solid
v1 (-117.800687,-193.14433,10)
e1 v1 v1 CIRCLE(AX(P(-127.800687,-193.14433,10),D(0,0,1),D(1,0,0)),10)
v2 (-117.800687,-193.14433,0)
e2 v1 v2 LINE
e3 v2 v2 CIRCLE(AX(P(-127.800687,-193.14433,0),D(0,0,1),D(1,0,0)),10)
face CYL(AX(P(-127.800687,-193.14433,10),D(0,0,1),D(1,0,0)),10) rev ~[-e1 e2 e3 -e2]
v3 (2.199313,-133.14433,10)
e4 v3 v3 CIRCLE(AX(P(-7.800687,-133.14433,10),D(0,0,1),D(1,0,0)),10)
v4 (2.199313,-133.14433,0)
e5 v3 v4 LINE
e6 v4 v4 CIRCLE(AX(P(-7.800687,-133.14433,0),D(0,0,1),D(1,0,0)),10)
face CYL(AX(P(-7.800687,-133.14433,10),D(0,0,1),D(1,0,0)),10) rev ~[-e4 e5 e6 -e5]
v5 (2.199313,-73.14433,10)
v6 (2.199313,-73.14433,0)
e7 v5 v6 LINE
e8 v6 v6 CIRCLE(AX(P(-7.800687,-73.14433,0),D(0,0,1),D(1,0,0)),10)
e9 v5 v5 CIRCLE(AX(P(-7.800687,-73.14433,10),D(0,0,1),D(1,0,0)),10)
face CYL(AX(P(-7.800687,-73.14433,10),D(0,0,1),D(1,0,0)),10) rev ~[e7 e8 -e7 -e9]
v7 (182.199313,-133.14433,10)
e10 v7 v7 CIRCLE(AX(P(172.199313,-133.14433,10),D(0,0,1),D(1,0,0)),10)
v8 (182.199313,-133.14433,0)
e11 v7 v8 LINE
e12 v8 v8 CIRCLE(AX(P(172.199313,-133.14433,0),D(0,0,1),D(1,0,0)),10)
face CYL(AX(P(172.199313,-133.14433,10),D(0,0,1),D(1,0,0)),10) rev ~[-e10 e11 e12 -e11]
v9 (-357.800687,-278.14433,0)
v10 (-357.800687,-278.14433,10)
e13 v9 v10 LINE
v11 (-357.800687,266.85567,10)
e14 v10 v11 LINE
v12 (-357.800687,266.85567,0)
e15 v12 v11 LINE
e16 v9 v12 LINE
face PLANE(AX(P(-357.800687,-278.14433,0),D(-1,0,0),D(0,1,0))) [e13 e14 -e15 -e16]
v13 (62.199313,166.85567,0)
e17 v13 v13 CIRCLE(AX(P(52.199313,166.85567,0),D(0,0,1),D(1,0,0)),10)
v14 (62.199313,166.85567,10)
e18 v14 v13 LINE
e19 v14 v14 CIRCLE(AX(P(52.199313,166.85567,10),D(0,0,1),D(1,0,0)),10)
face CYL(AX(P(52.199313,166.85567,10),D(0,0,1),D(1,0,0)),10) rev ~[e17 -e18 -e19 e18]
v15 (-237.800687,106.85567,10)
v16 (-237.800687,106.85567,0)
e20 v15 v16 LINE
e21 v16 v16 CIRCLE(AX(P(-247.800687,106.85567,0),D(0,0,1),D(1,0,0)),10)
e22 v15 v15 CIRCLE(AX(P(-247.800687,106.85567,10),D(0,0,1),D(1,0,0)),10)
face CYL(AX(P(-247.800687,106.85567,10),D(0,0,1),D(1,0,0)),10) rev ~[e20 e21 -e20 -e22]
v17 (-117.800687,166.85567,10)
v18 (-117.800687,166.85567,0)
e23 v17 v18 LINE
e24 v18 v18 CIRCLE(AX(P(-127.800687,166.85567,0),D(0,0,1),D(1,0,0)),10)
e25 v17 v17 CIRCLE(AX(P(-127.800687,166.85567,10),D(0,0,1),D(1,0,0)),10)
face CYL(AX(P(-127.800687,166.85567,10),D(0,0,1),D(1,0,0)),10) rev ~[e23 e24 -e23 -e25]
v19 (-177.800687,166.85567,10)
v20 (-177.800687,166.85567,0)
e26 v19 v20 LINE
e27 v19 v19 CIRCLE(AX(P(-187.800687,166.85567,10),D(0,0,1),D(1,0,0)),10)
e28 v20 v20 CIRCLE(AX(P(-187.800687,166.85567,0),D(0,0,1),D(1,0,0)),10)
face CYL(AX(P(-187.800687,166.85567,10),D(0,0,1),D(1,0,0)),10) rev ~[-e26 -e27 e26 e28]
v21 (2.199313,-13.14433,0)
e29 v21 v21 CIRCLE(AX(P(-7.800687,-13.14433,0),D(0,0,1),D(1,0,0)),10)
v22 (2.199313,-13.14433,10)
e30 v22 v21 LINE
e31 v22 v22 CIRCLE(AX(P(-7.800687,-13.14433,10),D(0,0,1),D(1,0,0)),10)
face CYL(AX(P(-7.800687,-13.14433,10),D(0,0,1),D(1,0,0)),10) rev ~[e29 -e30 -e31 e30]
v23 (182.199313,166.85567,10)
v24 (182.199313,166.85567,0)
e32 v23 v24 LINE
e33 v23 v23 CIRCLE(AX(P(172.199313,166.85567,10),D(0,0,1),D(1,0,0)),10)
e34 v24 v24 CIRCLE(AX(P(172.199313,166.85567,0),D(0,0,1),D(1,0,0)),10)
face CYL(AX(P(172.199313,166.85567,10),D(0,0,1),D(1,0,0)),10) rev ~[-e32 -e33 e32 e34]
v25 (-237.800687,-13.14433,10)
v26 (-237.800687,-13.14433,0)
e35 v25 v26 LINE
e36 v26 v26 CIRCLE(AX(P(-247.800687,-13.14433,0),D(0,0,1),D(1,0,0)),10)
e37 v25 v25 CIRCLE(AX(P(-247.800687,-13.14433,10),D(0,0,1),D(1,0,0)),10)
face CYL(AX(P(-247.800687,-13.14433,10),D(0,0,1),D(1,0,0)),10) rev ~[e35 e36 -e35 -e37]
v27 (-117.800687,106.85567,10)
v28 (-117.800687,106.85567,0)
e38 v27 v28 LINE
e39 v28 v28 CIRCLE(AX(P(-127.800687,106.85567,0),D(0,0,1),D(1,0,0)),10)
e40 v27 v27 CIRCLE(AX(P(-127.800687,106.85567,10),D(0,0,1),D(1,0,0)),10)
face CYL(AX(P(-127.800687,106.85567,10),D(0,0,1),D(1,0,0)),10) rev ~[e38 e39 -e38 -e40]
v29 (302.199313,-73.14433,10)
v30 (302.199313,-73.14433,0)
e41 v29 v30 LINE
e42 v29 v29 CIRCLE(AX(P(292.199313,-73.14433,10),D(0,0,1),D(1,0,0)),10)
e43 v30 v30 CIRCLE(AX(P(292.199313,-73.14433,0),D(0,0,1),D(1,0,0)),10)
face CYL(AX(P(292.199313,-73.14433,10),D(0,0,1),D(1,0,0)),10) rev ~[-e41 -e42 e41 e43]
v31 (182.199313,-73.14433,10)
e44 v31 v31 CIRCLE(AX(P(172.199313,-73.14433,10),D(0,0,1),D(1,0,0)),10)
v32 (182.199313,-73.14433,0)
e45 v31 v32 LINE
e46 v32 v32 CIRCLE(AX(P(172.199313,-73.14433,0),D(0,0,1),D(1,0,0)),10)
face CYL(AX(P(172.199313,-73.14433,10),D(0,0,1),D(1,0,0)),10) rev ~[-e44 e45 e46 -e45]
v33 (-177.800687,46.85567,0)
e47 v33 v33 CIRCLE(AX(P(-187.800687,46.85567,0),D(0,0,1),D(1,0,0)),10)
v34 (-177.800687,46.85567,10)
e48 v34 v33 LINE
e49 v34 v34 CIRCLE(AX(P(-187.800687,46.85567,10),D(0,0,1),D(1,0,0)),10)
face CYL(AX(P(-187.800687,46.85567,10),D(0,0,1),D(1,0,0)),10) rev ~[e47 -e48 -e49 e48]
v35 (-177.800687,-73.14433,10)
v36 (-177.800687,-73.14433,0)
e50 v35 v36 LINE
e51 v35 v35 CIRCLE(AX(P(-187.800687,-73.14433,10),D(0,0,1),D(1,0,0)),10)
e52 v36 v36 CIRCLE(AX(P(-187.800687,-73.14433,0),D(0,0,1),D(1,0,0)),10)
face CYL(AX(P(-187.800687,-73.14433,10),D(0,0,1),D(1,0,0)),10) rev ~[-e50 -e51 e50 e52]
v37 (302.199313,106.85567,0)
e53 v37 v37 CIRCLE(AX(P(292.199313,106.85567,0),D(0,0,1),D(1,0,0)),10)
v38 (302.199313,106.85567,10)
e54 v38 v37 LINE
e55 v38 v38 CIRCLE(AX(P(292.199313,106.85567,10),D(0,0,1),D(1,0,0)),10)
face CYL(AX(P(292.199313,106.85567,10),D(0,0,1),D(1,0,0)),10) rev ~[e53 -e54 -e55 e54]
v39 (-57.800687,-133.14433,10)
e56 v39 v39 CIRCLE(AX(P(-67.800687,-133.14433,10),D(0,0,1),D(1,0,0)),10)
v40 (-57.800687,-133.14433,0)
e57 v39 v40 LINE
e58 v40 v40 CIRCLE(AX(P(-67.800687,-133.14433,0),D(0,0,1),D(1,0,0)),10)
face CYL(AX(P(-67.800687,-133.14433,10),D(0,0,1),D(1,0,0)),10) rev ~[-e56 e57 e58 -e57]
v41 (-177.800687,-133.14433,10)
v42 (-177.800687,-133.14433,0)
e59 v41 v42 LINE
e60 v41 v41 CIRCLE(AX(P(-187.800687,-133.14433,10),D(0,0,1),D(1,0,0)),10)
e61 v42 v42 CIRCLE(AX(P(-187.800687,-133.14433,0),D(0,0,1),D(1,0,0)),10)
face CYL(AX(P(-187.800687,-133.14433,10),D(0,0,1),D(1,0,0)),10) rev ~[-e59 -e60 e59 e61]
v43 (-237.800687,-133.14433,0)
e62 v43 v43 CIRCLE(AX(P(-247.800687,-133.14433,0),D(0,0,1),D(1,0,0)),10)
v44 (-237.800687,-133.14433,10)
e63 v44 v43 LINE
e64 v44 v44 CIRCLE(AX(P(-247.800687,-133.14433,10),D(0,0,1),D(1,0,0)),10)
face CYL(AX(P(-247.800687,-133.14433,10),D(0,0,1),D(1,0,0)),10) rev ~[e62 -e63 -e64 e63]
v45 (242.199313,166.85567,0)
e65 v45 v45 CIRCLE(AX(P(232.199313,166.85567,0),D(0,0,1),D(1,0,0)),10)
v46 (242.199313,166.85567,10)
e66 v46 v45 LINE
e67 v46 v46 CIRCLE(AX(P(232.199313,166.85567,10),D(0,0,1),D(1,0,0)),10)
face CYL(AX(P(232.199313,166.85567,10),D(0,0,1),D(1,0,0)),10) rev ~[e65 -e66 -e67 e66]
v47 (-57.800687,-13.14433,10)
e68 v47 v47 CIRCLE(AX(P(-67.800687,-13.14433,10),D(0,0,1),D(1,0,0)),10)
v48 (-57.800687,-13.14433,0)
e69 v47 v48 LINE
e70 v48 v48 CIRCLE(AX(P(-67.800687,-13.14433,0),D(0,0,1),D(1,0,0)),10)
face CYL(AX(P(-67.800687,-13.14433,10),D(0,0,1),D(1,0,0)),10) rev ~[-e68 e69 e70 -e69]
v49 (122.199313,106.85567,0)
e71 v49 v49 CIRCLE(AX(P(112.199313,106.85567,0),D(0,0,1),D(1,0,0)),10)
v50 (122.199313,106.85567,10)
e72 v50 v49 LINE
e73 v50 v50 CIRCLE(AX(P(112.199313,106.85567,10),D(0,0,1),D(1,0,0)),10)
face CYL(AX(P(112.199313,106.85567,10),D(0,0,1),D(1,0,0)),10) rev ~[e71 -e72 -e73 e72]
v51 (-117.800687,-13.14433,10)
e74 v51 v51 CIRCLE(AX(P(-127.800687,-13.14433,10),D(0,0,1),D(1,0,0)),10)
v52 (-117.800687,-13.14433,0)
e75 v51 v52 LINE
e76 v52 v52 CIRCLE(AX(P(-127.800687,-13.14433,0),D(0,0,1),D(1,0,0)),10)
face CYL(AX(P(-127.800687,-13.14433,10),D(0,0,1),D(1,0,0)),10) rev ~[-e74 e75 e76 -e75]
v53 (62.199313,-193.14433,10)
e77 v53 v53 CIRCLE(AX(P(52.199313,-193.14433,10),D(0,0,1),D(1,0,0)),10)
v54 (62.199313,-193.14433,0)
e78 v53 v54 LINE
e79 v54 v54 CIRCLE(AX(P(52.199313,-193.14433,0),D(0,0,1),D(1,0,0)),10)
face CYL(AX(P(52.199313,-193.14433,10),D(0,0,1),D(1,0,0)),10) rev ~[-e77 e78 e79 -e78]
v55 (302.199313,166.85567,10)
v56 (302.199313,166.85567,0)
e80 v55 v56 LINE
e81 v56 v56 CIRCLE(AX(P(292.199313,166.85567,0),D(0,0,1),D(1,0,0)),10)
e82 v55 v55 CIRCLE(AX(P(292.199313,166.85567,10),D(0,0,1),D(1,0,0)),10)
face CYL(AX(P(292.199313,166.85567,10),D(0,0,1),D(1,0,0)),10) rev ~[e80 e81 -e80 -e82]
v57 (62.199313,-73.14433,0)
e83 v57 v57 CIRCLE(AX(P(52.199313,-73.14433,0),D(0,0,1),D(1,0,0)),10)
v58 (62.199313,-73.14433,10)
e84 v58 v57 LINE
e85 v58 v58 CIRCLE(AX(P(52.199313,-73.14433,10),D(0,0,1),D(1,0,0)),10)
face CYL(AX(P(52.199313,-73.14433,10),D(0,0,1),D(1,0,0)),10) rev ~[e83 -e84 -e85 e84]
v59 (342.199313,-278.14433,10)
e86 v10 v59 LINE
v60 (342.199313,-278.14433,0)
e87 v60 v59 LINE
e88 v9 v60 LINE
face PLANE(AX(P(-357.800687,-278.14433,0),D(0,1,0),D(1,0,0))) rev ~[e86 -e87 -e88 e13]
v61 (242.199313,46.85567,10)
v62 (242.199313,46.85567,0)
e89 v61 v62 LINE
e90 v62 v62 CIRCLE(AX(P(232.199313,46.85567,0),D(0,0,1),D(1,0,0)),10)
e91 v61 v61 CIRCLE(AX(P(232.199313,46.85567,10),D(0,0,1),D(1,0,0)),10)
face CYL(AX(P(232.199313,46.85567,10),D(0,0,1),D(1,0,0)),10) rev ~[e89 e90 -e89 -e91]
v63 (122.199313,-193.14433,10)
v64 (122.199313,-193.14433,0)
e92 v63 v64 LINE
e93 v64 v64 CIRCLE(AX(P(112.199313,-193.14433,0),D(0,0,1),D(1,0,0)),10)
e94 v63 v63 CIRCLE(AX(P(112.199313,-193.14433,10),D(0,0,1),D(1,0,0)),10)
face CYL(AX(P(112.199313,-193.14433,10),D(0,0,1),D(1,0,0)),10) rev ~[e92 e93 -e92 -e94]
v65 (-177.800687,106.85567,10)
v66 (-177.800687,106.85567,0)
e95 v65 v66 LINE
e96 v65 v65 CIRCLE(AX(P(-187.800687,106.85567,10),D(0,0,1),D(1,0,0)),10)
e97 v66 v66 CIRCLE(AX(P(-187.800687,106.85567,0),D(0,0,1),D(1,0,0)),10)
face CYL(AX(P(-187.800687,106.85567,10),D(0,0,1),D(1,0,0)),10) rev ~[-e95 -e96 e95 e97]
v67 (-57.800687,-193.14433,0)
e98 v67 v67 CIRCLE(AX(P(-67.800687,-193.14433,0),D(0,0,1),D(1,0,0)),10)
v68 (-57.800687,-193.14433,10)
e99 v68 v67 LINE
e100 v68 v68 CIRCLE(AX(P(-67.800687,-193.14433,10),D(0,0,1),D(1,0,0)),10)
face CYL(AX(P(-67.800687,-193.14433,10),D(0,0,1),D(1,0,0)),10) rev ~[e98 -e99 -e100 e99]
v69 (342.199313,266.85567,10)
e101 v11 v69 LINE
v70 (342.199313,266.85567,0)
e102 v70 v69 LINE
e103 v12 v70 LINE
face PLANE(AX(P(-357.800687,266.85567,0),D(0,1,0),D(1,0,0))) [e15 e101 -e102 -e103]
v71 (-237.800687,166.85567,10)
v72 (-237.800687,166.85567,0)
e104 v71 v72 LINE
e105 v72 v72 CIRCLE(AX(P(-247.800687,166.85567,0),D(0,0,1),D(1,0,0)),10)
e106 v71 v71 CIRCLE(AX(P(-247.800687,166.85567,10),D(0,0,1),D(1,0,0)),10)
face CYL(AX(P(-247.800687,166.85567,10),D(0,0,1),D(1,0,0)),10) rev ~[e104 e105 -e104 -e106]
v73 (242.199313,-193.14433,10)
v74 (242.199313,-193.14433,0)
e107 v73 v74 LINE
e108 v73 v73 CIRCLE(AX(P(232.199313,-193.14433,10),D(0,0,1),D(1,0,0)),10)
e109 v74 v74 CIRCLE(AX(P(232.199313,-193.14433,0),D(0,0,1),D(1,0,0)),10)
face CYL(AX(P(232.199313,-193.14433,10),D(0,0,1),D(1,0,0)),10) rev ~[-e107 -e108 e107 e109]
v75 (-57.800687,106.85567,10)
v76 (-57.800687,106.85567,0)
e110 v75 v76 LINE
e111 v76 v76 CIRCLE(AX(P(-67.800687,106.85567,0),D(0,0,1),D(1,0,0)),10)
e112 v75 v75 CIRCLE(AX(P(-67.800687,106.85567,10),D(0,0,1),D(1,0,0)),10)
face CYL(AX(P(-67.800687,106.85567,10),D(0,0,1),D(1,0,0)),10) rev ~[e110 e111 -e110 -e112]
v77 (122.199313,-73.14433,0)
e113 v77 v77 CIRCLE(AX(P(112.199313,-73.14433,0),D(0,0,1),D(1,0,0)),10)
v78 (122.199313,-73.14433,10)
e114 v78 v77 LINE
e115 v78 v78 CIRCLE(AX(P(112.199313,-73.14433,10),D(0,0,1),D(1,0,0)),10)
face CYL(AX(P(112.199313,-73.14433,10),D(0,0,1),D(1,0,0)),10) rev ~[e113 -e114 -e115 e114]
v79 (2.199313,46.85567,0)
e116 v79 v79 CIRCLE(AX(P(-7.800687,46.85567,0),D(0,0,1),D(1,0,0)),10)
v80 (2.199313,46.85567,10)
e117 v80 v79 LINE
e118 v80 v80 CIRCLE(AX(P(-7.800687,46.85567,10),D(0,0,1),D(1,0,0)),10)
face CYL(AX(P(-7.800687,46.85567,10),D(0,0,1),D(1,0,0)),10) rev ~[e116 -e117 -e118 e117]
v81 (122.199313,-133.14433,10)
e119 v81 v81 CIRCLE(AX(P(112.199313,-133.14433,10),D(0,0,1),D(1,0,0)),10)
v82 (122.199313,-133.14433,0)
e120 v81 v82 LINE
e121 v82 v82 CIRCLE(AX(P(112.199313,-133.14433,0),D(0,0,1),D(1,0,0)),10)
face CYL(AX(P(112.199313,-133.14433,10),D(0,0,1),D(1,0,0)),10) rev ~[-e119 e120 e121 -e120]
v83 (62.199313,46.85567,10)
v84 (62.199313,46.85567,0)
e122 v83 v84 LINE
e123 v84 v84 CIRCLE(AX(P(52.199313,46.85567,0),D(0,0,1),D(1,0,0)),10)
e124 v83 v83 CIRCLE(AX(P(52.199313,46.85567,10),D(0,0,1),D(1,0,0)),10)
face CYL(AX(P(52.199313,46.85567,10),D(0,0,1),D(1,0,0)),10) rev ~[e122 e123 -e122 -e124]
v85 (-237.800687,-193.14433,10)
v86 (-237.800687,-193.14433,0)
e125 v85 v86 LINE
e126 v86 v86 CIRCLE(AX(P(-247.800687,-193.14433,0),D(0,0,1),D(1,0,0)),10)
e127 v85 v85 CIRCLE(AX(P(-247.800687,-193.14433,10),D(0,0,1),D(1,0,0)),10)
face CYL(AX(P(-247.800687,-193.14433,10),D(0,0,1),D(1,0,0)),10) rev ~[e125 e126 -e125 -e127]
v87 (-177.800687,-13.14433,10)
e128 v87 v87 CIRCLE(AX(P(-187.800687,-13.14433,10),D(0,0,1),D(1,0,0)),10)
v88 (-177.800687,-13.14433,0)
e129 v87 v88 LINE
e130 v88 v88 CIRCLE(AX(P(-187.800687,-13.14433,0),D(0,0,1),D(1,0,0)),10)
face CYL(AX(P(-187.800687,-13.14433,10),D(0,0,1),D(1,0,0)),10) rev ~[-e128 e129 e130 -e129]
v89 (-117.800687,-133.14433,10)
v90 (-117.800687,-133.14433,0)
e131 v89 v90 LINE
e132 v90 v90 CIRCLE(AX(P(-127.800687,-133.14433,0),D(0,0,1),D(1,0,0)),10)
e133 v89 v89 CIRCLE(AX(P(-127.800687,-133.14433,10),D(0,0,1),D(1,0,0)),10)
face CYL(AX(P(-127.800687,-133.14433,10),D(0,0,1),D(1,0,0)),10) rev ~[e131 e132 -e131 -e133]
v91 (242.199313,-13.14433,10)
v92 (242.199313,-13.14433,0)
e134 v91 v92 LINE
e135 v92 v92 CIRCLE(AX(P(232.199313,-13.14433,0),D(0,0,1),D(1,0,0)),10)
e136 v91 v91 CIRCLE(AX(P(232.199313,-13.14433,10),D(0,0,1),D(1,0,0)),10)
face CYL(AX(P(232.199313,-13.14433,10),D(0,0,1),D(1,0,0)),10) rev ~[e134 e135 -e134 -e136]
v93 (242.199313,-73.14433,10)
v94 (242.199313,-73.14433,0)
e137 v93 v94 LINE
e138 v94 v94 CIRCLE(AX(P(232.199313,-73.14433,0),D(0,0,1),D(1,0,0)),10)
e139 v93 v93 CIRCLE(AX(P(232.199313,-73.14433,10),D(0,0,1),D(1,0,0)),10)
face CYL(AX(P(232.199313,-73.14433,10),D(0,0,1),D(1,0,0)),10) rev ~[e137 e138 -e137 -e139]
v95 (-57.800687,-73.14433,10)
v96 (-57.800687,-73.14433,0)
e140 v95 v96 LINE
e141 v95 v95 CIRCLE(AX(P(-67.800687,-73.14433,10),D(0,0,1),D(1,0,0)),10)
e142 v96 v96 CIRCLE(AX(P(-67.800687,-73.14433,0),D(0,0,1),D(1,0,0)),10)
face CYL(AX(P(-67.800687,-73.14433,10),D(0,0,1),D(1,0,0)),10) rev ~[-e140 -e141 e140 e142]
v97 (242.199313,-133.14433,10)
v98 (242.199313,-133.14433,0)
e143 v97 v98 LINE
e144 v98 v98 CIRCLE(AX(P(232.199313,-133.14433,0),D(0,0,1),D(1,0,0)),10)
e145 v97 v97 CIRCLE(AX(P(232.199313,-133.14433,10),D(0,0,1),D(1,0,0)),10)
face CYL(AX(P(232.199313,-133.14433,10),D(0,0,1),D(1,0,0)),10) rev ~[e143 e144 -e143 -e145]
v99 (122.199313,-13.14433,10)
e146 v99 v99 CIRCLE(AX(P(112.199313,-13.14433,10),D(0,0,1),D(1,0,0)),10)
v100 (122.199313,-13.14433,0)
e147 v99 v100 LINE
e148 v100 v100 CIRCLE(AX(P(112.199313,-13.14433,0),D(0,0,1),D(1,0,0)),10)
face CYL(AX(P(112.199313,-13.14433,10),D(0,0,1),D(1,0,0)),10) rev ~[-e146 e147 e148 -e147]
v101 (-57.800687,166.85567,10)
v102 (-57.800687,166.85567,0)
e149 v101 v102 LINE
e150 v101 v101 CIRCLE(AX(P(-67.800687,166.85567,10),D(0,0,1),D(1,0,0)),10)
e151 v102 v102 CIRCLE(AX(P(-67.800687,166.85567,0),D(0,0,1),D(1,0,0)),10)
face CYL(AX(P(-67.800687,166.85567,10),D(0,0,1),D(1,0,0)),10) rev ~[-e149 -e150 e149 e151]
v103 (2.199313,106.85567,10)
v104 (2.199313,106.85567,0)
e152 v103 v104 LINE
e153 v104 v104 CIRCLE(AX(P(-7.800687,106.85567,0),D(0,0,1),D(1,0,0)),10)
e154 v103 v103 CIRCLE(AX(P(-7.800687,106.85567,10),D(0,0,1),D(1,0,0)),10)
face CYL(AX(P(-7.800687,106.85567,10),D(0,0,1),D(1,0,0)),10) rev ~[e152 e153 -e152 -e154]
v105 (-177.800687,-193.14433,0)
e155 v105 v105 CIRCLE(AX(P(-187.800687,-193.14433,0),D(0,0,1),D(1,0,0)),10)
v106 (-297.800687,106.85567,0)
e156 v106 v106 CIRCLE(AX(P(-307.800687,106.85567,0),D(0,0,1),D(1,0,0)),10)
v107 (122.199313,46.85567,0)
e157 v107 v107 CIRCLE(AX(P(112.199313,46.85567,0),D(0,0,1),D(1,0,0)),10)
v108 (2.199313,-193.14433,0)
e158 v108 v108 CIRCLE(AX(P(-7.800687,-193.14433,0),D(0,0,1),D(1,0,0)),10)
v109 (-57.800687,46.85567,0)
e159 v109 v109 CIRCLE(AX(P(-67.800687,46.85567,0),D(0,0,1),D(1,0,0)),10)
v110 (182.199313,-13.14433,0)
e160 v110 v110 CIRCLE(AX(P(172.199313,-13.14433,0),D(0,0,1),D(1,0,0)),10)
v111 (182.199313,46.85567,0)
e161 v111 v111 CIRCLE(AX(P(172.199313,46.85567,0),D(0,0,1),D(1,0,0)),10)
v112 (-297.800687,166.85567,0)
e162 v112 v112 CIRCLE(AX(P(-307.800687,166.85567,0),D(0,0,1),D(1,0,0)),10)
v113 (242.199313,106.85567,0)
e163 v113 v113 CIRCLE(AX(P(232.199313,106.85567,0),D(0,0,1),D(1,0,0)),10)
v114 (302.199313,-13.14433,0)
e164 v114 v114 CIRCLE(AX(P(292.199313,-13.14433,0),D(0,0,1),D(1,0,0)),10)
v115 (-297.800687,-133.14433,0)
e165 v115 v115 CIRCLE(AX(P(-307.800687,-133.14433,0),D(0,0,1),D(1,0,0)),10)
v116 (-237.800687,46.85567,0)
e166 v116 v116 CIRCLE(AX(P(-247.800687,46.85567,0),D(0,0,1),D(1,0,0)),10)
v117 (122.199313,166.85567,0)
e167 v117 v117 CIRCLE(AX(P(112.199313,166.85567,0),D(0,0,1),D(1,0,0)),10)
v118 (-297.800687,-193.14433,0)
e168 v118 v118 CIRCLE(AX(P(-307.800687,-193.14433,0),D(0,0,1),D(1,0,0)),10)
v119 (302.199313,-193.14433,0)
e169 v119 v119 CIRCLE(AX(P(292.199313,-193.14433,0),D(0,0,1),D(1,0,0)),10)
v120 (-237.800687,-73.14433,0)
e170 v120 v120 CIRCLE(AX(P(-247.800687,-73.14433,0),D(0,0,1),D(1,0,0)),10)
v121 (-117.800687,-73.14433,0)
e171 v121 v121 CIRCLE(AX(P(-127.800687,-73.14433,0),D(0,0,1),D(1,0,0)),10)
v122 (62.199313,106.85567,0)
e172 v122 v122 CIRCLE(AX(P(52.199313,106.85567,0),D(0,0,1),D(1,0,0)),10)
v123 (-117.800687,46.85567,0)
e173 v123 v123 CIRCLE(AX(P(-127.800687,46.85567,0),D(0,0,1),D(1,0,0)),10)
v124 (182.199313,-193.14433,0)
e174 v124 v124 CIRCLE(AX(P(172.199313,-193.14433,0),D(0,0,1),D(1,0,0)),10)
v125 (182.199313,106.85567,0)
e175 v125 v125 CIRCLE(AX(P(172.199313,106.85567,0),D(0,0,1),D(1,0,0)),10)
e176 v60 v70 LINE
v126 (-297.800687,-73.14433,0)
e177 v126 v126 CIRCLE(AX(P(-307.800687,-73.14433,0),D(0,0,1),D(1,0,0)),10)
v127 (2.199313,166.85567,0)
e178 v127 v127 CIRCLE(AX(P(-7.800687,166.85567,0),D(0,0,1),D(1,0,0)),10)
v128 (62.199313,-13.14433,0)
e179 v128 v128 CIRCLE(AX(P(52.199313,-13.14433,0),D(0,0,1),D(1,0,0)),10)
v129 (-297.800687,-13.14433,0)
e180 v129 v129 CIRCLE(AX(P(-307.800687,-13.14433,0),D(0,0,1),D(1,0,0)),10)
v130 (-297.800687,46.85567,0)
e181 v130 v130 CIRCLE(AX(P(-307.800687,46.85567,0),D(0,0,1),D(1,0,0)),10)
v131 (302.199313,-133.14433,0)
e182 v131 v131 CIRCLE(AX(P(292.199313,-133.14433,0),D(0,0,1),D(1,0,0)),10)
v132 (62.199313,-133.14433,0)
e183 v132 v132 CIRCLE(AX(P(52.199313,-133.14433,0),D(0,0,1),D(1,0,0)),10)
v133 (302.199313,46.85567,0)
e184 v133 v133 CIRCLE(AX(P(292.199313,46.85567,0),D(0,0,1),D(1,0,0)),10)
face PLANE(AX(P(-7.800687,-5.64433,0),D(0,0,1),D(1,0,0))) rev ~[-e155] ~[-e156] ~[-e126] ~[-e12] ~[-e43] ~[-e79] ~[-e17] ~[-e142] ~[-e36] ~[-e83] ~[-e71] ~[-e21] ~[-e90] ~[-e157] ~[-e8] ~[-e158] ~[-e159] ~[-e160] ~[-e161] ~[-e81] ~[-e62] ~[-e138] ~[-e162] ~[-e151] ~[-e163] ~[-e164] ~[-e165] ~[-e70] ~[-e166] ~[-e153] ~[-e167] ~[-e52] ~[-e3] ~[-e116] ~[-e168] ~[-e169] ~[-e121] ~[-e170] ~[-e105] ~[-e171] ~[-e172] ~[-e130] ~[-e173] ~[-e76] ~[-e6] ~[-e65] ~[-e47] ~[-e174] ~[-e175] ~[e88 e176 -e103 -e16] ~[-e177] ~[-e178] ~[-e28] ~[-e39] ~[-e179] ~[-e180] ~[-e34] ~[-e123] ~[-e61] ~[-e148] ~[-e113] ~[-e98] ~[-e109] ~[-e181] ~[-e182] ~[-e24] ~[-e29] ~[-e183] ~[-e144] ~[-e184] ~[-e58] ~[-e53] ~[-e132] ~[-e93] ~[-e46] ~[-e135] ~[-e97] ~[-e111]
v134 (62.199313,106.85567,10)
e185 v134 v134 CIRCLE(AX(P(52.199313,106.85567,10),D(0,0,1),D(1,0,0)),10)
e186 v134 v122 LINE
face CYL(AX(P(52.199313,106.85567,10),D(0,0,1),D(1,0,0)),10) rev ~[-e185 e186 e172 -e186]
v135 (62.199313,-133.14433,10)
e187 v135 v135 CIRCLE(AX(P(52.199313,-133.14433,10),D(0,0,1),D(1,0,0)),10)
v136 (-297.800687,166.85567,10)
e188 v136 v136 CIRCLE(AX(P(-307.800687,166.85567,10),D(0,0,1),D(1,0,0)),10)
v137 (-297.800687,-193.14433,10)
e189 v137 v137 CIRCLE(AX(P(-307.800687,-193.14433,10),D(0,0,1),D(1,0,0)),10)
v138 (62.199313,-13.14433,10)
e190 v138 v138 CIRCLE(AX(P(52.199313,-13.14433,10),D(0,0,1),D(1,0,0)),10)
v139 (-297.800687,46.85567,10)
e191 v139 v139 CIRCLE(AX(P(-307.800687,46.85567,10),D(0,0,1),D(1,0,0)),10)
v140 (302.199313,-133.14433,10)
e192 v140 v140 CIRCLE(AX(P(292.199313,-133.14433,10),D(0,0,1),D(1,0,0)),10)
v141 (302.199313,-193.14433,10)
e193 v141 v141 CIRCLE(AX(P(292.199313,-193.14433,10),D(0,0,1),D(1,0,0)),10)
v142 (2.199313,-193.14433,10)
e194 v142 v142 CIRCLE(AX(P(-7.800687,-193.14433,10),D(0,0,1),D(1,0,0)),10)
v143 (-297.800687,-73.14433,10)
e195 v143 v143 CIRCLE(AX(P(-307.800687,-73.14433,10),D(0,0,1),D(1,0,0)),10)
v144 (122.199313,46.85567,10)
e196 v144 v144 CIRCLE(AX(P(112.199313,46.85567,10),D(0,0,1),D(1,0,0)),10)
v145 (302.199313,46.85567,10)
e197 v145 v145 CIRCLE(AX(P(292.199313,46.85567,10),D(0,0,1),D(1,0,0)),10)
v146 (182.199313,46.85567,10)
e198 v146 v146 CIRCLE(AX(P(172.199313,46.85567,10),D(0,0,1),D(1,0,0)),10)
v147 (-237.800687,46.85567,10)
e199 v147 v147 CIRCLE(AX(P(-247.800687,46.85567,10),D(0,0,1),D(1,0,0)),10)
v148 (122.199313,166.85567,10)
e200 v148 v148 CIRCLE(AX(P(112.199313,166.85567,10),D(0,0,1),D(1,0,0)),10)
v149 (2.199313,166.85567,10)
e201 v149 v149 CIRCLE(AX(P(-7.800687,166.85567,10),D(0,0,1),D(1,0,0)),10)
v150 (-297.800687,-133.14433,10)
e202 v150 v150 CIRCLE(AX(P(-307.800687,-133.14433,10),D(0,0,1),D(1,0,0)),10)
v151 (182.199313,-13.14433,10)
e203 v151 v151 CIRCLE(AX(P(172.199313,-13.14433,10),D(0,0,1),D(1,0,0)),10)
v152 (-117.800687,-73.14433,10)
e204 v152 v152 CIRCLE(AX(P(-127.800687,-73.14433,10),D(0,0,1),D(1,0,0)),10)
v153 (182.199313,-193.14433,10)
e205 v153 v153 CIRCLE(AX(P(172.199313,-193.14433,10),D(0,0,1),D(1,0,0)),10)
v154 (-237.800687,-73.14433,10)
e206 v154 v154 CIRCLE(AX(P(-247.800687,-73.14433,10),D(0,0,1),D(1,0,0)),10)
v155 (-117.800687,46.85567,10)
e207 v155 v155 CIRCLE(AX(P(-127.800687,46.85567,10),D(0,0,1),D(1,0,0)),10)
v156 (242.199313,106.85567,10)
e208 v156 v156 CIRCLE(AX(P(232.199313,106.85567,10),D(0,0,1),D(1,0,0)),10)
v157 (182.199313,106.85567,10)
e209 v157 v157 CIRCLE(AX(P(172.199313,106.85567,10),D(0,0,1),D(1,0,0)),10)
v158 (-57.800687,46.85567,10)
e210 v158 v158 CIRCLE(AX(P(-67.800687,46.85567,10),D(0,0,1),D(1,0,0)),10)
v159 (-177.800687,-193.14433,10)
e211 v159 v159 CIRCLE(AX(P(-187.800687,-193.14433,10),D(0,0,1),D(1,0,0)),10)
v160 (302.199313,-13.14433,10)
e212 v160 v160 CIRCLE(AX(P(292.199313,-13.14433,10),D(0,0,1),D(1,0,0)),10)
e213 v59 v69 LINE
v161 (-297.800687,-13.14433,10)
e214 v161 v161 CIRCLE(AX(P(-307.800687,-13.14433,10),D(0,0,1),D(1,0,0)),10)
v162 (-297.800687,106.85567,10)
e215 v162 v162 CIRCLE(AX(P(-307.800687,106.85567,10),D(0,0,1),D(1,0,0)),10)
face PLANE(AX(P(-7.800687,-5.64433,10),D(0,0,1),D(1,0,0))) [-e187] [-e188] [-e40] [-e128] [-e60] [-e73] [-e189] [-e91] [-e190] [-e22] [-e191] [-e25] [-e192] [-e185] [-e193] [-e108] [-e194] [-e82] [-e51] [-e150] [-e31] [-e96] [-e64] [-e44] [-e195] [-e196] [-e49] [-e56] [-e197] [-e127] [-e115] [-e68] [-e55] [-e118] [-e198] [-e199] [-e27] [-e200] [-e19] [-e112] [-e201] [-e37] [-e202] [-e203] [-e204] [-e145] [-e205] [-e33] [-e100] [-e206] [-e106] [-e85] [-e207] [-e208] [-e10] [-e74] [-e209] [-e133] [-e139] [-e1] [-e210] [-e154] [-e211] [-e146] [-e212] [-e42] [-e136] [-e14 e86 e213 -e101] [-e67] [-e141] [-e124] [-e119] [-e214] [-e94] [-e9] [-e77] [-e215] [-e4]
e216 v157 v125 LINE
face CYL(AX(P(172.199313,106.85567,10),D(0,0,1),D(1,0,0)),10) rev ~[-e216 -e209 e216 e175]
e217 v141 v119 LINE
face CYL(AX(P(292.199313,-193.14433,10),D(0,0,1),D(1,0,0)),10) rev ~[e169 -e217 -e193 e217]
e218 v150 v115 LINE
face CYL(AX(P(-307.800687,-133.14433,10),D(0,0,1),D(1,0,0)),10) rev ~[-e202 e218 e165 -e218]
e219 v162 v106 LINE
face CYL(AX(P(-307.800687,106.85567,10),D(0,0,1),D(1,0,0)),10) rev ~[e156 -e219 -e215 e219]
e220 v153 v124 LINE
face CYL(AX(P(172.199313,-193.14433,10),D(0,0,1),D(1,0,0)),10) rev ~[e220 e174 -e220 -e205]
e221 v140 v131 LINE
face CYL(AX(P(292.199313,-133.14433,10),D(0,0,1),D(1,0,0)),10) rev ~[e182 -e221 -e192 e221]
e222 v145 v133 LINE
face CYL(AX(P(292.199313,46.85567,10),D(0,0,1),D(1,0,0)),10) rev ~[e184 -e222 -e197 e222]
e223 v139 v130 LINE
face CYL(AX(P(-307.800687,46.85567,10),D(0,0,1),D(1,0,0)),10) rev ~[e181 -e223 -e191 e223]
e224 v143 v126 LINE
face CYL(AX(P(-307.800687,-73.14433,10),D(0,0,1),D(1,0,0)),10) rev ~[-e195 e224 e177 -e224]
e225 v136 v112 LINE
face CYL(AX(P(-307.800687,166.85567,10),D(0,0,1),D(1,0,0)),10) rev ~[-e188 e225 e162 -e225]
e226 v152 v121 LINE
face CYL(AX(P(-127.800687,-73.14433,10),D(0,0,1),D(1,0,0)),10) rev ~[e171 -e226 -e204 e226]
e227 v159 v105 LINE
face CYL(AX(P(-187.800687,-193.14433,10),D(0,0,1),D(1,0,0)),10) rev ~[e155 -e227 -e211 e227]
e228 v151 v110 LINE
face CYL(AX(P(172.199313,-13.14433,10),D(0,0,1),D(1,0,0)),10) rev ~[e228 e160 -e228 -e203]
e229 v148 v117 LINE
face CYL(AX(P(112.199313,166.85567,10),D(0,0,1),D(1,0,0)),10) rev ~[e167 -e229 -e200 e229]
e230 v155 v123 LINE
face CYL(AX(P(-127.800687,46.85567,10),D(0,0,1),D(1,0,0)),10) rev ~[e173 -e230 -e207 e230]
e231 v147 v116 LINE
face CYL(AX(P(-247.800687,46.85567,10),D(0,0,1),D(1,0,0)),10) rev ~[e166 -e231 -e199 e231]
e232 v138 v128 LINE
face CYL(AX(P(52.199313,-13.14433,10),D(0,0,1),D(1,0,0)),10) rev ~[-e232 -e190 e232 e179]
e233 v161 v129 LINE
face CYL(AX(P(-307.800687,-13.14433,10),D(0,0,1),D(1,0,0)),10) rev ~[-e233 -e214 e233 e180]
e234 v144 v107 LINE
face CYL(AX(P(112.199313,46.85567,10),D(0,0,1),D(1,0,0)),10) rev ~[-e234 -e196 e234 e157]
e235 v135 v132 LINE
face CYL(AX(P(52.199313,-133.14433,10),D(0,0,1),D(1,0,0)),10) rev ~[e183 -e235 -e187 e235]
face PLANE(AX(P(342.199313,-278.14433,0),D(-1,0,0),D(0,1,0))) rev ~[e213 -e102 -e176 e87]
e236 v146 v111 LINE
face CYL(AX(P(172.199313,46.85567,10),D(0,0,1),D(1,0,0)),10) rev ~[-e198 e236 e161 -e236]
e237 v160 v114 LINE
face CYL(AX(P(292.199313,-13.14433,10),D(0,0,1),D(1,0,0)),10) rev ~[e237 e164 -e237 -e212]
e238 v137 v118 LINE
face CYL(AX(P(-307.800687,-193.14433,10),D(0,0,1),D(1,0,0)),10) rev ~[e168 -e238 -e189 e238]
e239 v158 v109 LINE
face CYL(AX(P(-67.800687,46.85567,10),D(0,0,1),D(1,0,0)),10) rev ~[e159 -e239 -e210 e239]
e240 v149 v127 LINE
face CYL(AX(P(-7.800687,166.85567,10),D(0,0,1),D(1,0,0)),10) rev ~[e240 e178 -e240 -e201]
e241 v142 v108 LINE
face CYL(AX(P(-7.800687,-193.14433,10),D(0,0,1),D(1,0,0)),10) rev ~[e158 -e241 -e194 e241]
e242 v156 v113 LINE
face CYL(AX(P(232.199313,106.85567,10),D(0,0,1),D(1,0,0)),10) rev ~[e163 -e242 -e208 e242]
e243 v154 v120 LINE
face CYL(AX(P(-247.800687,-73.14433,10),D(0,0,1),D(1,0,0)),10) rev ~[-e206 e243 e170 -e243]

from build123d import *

# Parameters (mm, degrees)
CROQUIS1_W              = 700
CROQUIS1_H              = 545
SALIENTE_EXTRUIR1_DEPTH = 10
CROQUIS2_R              = 10
CORTAR_EXTRUIR1_DEPTH   = 454.305195289
MATRIZL1_COUNT          = 11
MATRIZL1_PITCH          = 60
MATRIZL1_COUNT_DIR2     = 7
MATRIZL1_PITCH_DIR2     = 60


with BuildPart() as part:
    # Croquis1 → Saliente-Extruir1 (new body)
    with BuildSketch(Plane.XY):
        with Locations((-7.800687285, -5.644329897)):
            Rectangle(CROQUIS1_W, CROQUIS1_H)
    extrude(amount=SALIENTE_EXTRUIR1_DEPTH)

    # Croquis2 → Cortar-Extruir1 (cut, through all)
    with BuildSketch(Plane.XY.offset(10)):
        with Locations((-307.800687285, 166.855670103)):
            Circle(CROQUIS2_R)
    cortar_extruir1 = extrude(amount=-CORTAR_EXTRUIR1_DEPTH, mode=Mode.SUBTRACT)

    # MatrizL1: Cortar-Extruir1 11 × 7
    with Locations(*[(i * MATRIZL1_PITCH, -j * MATRIZL1_PITCH_DIR2, 0) for i in range(MATRIZL1_COUNT) for j in range(MATRIZL1_COUNT_DIR2) if (i, j) != (0, 0)]):
        add(cortar_extruir1, mode=Mode.SUBTRACT)


solid = part.part
